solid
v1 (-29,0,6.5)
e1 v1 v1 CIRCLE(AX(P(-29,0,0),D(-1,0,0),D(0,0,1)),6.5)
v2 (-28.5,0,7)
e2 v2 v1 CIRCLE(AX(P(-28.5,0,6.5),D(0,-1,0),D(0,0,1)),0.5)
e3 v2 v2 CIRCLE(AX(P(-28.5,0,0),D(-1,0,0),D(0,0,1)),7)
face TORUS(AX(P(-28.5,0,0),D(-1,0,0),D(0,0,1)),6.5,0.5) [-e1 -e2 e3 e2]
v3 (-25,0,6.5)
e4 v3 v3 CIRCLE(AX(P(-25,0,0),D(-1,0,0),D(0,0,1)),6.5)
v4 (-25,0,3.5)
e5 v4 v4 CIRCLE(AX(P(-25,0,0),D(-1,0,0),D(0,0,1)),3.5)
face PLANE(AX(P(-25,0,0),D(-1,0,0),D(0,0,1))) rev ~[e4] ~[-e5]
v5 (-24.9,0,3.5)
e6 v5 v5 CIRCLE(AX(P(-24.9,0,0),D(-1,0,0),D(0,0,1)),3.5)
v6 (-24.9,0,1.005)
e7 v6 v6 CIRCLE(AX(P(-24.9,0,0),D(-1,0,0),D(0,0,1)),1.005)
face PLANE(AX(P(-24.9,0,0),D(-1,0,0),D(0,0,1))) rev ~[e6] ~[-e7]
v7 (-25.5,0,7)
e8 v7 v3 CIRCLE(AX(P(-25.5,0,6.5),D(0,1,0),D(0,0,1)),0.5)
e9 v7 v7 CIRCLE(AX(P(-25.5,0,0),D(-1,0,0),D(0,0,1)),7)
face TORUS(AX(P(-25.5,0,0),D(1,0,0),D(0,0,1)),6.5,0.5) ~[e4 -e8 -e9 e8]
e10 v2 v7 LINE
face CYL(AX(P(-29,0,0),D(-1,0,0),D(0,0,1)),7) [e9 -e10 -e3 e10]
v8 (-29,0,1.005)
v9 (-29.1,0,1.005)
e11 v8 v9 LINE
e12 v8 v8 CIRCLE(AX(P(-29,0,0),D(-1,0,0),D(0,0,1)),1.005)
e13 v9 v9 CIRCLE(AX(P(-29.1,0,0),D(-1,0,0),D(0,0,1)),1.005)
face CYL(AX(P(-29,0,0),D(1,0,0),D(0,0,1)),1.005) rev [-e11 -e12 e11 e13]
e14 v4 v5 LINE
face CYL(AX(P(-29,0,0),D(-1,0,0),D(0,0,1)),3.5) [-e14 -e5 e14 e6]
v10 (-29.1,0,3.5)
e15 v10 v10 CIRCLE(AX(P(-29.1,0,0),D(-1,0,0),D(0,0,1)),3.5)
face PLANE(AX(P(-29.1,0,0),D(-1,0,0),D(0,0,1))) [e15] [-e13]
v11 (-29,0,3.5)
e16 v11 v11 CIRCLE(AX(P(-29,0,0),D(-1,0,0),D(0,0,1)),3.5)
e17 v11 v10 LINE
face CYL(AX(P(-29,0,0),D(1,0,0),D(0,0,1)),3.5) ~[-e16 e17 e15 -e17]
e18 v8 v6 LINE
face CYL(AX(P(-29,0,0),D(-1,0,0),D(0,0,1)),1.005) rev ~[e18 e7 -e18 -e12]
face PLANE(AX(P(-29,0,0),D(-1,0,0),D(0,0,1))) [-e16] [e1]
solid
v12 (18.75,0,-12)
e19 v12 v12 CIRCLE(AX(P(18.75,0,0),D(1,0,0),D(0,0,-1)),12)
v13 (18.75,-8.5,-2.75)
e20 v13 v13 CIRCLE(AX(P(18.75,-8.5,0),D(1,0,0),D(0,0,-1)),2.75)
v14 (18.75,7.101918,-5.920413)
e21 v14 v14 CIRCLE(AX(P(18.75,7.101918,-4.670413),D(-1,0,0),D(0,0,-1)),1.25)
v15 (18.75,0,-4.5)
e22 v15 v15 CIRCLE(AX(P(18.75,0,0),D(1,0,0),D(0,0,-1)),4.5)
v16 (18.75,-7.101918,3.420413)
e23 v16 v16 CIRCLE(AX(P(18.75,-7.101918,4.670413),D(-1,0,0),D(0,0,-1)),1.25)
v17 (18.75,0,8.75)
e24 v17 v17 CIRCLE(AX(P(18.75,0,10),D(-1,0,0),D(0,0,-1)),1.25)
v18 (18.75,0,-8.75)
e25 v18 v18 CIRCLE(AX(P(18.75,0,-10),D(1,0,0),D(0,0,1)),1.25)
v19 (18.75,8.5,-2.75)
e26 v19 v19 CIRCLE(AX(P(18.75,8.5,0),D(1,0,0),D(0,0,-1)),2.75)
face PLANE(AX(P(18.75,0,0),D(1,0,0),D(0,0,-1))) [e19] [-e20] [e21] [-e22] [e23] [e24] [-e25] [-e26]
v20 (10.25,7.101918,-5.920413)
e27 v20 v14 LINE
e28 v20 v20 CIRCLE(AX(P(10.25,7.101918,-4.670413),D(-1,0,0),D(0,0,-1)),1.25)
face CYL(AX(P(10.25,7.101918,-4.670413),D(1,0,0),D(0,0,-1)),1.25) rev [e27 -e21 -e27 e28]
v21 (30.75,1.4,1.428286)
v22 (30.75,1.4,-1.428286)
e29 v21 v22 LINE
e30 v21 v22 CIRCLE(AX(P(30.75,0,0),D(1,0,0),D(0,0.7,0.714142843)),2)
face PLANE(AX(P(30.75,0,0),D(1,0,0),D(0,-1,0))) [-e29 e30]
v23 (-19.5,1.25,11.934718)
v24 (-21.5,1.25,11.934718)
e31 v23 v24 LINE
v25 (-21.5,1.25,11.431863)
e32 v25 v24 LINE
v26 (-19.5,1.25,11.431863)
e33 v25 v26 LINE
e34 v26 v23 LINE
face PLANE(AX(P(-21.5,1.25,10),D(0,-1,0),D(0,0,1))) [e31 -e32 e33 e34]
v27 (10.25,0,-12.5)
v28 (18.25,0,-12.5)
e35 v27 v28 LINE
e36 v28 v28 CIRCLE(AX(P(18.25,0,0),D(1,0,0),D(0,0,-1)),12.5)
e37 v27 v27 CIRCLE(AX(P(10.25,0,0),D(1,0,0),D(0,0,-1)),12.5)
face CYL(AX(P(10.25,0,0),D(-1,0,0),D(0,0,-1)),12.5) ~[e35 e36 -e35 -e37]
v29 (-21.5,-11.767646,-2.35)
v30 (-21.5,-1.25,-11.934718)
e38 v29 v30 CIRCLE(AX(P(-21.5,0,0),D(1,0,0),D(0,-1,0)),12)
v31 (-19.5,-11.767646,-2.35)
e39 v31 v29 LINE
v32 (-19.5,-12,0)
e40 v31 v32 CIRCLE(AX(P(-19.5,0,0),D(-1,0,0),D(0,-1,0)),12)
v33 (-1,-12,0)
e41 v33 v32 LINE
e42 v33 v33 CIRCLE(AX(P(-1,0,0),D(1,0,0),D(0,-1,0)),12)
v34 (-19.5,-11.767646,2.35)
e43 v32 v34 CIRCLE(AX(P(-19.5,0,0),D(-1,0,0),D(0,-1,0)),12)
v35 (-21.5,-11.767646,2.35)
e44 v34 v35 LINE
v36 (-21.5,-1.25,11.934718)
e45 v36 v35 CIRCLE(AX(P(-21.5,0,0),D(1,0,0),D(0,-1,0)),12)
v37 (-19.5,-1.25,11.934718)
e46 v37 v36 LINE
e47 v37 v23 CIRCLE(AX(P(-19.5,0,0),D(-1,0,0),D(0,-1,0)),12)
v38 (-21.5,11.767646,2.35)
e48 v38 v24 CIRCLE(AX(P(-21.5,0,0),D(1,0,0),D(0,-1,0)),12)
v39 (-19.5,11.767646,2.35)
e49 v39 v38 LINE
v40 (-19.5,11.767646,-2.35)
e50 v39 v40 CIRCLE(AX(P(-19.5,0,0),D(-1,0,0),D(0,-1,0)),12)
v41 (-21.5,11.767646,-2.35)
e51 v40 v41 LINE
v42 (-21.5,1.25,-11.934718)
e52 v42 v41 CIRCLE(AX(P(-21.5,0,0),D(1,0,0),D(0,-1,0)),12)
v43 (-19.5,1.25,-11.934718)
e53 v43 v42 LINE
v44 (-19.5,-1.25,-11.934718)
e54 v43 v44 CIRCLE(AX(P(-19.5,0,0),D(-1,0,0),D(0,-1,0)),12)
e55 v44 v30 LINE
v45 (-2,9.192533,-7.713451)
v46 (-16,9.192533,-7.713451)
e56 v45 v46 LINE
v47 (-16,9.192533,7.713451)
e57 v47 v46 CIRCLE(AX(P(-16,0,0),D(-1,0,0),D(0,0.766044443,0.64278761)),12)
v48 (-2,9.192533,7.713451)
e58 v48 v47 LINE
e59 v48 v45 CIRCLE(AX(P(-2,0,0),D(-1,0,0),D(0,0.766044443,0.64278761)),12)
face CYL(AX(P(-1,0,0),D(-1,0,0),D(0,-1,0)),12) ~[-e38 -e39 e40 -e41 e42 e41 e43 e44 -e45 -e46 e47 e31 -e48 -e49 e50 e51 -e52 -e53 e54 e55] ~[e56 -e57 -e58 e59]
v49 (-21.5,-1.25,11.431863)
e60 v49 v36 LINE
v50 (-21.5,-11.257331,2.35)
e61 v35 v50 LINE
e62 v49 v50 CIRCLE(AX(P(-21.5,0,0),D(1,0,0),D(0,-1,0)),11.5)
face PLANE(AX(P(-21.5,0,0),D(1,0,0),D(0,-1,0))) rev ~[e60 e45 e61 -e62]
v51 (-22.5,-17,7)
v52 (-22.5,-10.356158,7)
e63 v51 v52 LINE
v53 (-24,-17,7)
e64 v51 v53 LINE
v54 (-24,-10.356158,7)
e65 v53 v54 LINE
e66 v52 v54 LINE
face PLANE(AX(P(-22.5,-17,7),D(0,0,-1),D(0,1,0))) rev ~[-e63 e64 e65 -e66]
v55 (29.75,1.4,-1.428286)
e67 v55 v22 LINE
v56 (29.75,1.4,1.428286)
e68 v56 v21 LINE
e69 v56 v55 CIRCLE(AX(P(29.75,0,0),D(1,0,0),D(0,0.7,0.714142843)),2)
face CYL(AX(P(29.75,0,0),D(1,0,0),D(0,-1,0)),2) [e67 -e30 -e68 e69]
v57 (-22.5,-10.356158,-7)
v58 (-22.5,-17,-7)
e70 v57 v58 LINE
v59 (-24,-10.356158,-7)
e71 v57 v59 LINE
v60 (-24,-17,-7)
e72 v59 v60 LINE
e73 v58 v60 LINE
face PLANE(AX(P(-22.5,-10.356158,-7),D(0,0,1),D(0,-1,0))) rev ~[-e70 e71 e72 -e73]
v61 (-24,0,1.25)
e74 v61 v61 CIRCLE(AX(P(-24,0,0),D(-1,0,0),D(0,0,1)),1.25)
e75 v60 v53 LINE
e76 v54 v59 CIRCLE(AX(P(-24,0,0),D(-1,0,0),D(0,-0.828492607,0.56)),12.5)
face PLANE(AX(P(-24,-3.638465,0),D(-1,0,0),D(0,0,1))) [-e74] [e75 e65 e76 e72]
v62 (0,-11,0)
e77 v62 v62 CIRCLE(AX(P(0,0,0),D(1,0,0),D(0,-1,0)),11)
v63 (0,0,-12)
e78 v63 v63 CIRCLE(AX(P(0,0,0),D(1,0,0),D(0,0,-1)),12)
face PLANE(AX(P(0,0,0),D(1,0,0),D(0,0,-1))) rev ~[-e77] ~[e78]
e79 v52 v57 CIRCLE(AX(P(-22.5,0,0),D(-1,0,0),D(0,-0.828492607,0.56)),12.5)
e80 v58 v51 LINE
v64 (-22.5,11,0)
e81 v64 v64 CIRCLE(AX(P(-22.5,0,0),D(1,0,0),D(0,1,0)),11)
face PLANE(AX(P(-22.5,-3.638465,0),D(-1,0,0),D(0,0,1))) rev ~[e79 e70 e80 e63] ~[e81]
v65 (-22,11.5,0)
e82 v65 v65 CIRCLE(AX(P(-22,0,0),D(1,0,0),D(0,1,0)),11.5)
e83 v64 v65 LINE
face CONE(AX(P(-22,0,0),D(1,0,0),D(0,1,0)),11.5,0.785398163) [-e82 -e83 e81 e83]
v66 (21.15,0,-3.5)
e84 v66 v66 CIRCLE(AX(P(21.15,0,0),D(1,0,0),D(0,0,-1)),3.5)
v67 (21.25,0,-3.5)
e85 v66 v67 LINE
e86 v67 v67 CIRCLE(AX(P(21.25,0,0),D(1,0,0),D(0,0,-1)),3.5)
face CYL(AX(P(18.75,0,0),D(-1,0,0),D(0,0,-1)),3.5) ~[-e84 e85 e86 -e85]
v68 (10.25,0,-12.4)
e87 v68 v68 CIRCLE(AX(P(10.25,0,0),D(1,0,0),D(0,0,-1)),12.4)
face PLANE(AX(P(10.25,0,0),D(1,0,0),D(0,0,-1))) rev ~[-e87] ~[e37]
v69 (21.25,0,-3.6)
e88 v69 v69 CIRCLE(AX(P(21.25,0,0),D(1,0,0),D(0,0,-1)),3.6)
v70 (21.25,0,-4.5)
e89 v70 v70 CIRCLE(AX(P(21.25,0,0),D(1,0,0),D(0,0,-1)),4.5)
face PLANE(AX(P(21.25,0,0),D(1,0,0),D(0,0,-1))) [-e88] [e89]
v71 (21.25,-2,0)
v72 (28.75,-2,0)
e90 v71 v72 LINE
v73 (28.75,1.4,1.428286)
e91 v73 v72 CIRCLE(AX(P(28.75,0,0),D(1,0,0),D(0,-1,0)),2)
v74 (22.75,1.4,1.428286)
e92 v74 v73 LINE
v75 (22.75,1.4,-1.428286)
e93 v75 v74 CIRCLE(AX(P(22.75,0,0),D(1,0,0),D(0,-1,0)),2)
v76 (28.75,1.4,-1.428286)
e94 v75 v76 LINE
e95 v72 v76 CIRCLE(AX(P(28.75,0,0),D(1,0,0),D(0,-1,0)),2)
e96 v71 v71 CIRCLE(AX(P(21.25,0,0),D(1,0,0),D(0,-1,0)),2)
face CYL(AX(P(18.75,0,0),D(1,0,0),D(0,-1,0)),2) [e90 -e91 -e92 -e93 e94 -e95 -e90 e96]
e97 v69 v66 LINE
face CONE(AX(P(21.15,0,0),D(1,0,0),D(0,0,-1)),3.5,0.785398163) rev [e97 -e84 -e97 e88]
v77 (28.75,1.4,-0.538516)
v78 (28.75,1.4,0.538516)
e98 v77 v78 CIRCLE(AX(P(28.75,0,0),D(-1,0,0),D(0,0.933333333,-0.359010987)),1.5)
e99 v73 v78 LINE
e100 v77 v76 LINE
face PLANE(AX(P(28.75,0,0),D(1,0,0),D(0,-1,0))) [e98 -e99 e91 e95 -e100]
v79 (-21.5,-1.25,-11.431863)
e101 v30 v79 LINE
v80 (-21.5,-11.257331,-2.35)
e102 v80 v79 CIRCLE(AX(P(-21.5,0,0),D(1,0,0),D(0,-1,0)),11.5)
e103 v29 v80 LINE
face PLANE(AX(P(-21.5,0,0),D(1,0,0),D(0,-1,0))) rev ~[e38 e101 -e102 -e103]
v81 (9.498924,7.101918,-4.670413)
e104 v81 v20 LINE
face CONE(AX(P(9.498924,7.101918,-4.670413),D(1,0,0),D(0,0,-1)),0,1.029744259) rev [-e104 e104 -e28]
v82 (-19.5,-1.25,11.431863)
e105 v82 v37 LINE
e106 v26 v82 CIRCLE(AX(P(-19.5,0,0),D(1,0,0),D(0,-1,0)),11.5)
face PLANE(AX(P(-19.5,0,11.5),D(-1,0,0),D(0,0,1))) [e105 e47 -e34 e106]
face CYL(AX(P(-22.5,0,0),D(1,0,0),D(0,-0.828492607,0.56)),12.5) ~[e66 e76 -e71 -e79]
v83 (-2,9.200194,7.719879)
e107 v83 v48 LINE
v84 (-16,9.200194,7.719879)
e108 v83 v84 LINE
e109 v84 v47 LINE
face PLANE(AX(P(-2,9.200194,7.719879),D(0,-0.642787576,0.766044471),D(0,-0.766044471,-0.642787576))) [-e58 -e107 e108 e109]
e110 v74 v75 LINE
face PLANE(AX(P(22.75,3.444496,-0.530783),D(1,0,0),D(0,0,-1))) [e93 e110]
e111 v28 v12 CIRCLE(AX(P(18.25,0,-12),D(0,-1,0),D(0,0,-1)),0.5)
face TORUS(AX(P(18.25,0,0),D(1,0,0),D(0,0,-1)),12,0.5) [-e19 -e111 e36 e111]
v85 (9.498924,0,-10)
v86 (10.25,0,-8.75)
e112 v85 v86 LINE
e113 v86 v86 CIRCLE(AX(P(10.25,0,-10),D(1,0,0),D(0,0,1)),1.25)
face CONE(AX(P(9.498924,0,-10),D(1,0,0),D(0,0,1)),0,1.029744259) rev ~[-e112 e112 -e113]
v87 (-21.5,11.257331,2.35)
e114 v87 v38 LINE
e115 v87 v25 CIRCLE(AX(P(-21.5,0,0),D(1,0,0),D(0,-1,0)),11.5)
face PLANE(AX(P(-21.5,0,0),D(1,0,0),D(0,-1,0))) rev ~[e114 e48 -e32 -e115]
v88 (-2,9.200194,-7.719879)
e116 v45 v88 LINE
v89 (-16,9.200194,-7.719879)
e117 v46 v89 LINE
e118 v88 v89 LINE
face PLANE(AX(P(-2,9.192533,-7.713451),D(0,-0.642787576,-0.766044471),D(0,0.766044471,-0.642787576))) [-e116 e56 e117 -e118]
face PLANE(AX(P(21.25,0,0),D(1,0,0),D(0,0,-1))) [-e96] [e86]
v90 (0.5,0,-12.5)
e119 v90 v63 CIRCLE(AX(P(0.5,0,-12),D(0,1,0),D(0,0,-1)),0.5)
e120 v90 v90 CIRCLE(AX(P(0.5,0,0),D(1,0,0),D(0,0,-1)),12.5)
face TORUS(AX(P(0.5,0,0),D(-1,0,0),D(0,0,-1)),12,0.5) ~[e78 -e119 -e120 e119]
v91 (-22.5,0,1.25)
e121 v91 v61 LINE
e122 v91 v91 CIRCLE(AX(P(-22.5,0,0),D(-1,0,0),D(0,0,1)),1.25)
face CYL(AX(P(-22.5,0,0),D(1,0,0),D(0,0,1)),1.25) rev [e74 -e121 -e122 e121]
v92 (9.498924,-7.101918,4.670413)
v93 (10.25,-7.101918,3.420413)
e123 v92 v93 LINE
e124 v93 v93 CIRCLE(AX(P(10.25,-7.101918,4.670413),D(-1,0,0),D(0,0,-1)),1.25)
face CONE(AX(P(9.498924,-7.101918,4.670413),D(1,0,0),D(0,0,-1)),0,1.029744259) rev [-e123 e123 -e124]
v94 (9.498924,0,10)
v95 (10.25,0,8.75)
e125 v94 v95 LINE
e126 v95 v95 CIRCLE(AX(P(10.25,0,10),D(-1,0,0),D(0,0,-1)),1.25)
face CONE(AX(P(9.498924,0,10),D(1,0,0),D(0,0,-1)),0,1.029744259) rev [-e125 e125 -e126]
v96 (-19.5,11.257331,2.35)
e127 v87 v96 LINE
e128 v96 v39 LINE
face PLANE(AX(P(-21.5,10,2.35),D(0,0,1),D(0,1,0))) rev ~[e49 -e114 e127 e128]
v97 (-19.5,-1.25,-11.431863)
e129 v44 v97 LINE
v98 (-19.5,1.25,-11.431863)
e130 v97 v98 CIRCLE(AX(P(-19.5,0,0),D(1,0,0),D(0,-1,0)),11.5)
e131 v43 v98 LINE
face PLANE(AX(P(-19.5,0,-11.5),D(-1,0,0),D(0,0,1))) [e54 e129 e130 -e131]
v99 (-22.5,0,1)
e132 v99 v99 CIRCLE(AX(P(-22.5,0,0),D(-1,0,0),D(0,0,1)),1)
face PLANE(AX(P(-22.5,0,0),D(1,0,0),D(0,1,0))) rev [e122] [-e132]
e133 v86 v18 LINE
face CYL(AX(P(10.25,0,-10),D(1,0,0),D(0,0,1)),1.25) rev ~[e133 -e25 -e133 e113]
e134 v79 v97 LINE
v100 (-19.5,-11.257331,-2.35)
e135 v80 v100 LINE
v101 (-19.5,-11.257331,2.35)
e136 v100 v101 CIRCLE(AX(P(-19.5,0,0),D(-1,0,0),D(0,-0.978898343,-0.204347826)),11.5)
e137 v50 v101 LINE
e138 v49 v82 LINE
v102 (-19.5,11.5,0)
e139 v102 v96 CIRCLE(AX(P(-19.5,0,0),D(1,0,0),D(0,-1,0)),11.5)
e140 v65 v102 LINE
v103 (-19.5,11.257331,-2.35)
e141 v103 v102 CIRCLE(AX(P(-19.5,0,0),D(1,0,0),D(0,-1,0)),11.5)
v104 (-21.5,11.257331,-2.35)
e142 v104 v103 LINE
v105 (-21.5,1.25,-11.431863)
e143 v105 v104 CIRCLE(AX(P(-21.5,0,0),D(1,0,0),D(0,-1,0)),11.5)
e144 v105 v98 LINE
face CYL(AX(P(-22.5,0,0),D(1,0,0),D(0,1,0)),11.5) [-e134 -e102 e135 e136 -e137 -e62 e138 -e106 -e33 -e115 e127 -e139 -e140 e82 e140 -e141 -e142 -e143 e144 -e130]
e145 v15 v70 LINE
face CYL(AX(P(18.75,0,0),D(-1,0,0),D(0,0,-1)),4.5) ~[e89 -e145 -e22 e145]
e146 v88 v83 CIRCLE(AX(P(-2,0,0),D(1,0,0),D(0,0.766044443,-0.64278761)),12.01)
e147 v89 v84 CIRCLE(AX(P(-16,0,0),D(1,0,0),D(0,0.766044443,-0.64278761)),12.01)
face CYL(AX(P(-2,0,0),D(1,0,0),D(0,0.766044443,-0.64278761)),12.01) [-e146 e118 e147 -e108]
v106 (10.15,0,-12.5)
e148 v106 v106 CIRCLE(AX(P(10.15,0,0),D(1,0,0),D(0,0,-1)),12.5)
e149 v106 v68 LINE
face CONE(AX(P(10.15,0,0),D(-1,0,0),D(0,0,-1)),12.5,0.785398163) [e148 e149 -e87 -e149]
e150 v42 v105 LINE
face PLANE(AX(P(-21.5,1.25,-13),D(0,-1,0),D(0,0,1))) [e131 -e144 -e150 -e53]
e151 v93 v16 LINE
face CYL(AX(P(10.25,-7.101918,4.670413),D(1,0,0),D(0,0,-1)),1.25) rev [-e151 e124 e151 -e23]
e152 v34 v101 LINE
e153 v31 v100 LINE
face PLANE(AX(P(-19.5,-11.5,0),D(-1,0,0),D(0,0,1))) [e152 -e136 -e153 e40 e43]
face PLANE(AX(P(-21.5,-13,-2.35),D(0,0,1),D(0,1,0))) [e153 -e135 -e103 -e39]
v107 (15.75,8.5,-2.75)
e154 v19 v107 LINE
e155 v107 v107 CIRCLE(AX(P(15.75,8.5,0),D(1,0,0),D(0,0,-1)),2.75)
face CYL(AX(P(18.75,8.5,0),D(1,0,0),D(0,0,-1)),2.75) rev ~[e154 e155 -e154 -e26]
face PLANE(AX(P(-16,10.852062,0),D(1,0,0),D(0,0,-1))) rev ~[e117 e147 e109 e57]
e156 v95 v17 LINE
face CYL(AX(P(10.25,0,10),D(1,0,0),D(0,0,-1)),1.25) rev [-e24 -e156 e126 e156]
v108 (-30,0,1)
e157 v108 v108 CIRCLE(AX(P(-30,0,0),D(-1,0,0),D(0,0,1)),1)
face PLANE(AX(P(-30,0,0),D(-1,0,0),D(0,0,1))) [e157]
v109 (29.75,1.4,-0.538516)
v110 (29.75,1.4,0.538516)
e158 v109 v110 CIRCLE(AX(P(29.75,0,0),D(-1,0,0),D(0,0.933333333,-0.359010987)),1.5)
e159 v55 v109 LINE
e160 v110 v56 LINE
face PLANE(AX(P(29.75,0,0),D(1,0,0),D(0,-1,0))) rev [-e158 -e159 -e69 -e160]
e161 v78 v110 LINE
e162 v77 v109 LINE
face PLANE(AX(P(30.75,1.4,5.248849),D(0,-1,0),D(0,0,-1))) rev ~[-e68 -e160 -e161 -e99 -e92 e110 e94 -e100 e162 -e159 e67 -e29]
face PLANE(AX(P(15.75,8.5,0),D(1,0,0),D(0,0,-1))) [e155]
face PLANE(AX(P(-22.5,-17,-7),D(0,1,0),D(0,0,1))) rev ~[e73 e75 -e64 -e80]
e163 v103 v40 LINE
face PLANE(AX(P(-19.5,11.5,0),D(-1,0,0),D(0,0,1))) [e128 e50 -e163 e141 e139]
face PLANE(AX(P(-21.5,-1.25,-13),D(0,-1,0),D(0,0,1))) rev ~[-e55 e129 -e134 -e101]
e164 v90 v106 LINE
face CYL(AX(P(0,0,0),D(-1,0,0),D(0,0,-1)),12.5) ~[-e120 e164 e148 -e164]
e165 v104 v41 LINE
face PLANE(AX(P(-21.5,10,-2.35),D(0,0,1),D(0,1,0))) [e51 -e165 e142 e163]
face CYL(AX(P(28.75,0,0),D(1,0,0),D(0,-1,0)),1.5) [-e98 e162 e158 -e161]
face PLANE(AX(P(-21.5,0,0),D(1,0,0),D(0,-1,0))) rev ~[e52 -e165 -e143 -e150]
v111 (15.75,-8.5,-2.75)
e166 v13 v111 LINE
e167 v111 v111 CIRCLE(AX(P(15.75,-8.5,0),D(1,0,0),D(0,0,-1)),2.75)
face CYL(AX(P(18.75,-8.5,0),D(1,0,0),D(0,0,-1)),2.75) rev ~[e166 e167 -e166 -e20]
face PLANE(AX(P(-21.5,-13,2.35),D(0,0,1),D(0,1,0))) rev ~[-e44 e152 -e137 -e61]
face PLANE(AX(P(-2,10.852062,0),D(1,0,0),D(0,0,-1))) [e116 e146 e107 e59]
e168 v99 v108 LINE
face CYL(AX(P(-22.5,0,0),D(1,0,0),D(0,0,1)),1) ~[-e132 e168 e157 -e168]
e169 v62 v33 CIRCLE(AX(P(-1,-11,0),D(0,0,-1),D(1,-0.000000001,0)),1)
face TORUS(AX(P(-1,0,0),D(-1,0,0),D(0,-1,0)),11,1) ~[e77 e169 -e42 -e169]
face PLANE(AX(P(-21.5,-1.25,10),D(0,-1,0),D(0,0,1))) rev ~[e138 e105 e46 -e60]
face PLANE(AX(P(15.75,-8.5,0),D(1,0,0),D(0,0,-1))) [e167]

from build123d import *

# Parameters (mm, degrees)
ESQUISSE3_W                = 4.7
ESQUISSE3_H                = 3
ESQUISSE3_W_2              = 3
ESQUISSE3_H_2              = 2.5
ENL_V_MAT_EXTRU_1_DEPTH    = 2
CHANFREIN1_SIZE            = 0.5
ESQUISSE5_R                = 1.25
BOSS_EXTRU_1_DEPTH         = 1.5
ESQUISSE6_R                = 12.5
BOSS_EXTRU_2_DEPTH         = 10.25
CONG_2_R                   = 0.5
CHANFREIN2_SIZE            = 0.1
ESQUISSE7_R                = 12.5
BOSS_EXTRU_3_DEPTH         = 8.5
CONG_3_R                   = 0.5
ESQUISSE8_R                = 4.5
ESQUISSE8_R_2              = 3.5
BOSS_EXTRU_4_DEPTH         = 2.5
CHANFREIN3_SIZE            = 0.1
ESQUISSE10_R               = 3.5
ESQUISSE10_R_2             = 2
BOSS_EXTRU_6_DEPTH         = 2.5
ESQUISSE13_W               = 11.559263521
ESQUISSE13_H               = 4.088991178
ENL_V_MAT_EXTRU_2_DEPTH    = 8
ESQUISSE14_R               = 1
BOSS_EXTRU_8_DEPTH         = 7.5
ESQUISSE16_R               = 7
ESQUISSE16_R_2             = 3.5
BOSS_EXTRU_9_DEPTH         = 4
CONG_4_R                   = 0.5
ESQUISSE17_R               = 3.5
ESQUISSE17_R_2             = 1.005
BOSS_EXTRU_10_DEPTH        = 0.1
BOSS_EXTRU_10_DEPTH_BACK   = 4.1
ESQUISSE18_R               = 2.75
ENL_V_MAT_EXTRU_3_DEPTH    = 3
TROU_TARAUD_M32_AT_2_COUNT = 2
TROU_TARAUD_M32_AT_2_PITCH = 17
BOSS_EXTRU_11_DEPTH        = 14


with BuildPart() as part:
    # Esquisse1 → Révol.-Mince3 (revolve)
    with BuildSketch(Plane.XY):
        with BuildLine():
            Line((0, 0), (0, -11))
            ThreePointArc((0, -11), (-0.292893219, -11.707106781), (-1, -12))
            Line((-1, -12), (-21.5, -12))
            Line((-21.5, -12), (-21.5, -11.5))
            Line((-21.5, -11.5), (-1, -11.5))
            ThreePointArc((-1, -11.5), (-0.646446609, -11.353553391), (-0.5, -11))
            Line((-0.5, -11), (-0.5, 0))
            Line((-0.5, 0), (0, 0))
        make_face()
    revolve(axis=Axis((-41.566699443, 0, 0), (1, 0, 0)))

    # Esquisse3 → Enlèv. mat.-Extru.1 (cut)
    with BuildSketch(Plane.ZY.offset(21.5)):
        with Locations((0, -11.5)):
            Rectangle(ESQUISSE3_W, ESQUISSE3_H)
        with Locations((0, 11.5)):
            Rectangle(ESQUISSE3_W, ESQUISSE3_H)
        with Locations((11.5, 0)):
            Rectangle(ESQUISSE3_W_2, ESQUISSE3_H_2)
        with Locations((-11.5, 0)):
            Rectangle(ESQUISSE3_W_2, ESQUISSE3_H_2)
    extrude(amount=-ENL_V_MAT_EXTRU_1_DEPTH, mode=Mode.SUBTRACT)

    # Esquisse4 → Révolution2 (revolve)
    with BuildSketch(Plane.XY):
        with BuildLine():
            Line((-0.5, 11), (-0.5, 0))
            Line((-0.5, 0), (-22.5, 0))
            Line((-22.5, 0), (-22.5, 11.5))
            Line((-22.5, 11.5), (-1, 11.5))
            ThreePointArc((-1, 11.5), (-0.646446609, 11.353553391), (-0.5, 11))
        make_face()
    revolve(axis=Axis((-25.268401873, 0, 0), (1, 0, 0)))

    # Chanfrein1
    chanfrein1_edges = [part.edges().sort_by_distance(p)[0] for p in [
        (-22.5, -11.5, 0),
    ]]
    chamfer(chanfrein1_edges, length=CHANFREIN1_SIZE)

    # Esquisse5 → Boss.-Extru.1 (add)
    with BuildSketch(Plane.ZY.offset(22.5)):
        with BuildLine():
            Line((-7, -10.356157589), (-7, -17))
            Line((-7, -17), (7, -17))
            Line((7, -17), (7, -10.356157589))
            ThreePointArc((7, -10.356157589), (0, 12.5), (-7, -10.356157589))
        make_face()
        Circle(ESQUISSE5_R, mode=Mode.SUBTRACT)
    extrude(amount=BOSS_EXTRU_1_DEPTH)

    # Esquisse6 → Boss.-Extru.2 (add)
    with BuildSketch(Plane(origin=(0, 0, 0), x_dir=(0, 0, -1), z_dir=(1, 0, 0))):
        Circle(ESQUISSE6_R)
    extrude(amount=BOSS_EXTRU_2_DEPTH)

    # Congé2
    cong_2_edges = [part.edges().sort_by_distance(p)[0] for p in [
        (0, 0, 12.5),
    ]]
    fillet(cong_2_edges, radius=CONG_2_R)

    # Chanfrein2
    chanfrein2_edges = [part.edges().sort_by_distance(p)[0] for p in [
        (10.25, 0, 12.5),
    ]]
    chamfer(chanfrein2_edges, length=CHANFREIN2_SIZE)

    # Esquisse7 → Boss.-Extru.3 (add)
    with BuildSketch(Plane(origin=(10.25, 0, 0), x_dir=(0, 0, -1), z_dir=(1, 0, 0))):
        Circle(ESQUISSE7_R)
    extrude(amount=BOSS_EXTRU_3_DEPTH)

    # Congé3
    cong_3_edges = [part.edges().sort_by_distance(p)[0] for p in [
        (18.75, 0, 12.5),
    ]]
    fillet(cong_3_edges, radius=CONG_3_R)

    # Esquisse8 → Boss.-Extru.4 (add)
    with BuildSketch(Plane(origin=(18.75, 0, 0), x_dir=(0, 0, -1), z_dir=(1, 0, 0))):
        Circle(ESQUISSE8_R)
        Circle(ESQUISSE8_R_2, mode=Mode.SUBTRACT)
    extrude(amount=BOSS_EXTRU_4_DEPTH)

    # Chanfrein3
    chanfrein3_edges = [part.edges().sort_by_distance(p)[0] for p in [
        (21.25, 0, 3.5),
    ]]
    chamfer(chanfrein3_edges, length=CHANFREIN3_SIZE)

    # Esquisse10 → Boss.-Extru.6 (add)
    with BuildSketch(Plane(origin=(18.75, 0, 0), x_dir=(0, 0, -1), z_dir=(1, 0, 0))):
        Circle(ESQUISSE10_R)
        Circle(ESQUISSE10_R_2, mode=Mode.SUBTRACT)
    extrude(amount=BOSS_EXTRU_6_DEPTH)

    # Esquisse12 → Révolution3 (revolve)
    with BuildSketch(Plane.XY):
        Polygon((18.75, -2), (28.75, -2), (28.75, -1.5), (29.75, -1.5), (29.75, -2), (30.75, -2), (30.75, 0), (18.75, 0), align=None)
    revolve(axis=Axis((-4.872202699, 0, 0), (1, 0, 0)))

    # Esquisse13 → Enlèv. mat.-Extru.2 (cut)
    with BuildSketch(Plane(origin=(30.75, 0, 0), x_dir=(0, 0, -1), z_dir=(1, 0, 0))):
        with Locations((0.530782509, 3.444495589)):
            Rectangle(ESQUISSE13_W, ESQUISSE13_H)
    extrude(amount=-ENL_V_MAT_EXTRU_2_DEPTH, mode=Mode.SUBTRACT)

    # Esquisse14 → Boss.-Extru.8 (add)
    with BuildSketch(Plane.ZY.offset(22.5)):
        Circle(ESQUISSE14_R)
    extrude(amount=BOSS_EXTRU_8_DEPTH)

    # Esquisse18 → Enlèv. mat.-Extru.3 (cut)
    with BuildSketch(Plane(origin=(18.75, 0, 0), x_dir=(0, 0, -1), z_dir=(1, 0, 0))):
        with Locations((0, 8.5)):
            Circle(ESQUISSE18_R)
        with Locations((0, -8.5)):
            Circle(ESQUISSE18_R)
    extrude(amount=-ENL_V_MAT_EXTRU_3_DEPTH, mode=Mode.SUBTRACT)

    # Esquisse19 → Trou taraudé M31 (revolve, cut)
    with BuildSketch(Plane(origin=(18.75, 0, 10), x_dir=(0, 0, -1), z_dir=(0, 1, 0))):
        Polygon((0, 0), (0, 9.251075774), (1.25, 8.5), (1.25, 0), align=None)
    trou_taraud_m31 = revolve(axis=Axis((25.1, 0, 10), (-1, 0, 0)), mode=Mode.SUBTRACT)

    # Symétrie1: Trou taraudé M31 across plane
    add(trou_taraud_m31.mirror(Plane.XY), mode=Mode.SUBTRACT)

    # Esquisse24 → Trou taraudé M32 (revolve, cut)
    with BuildSketch(Plane(origin=(18.75, 7.101918123, -4.670413149), x_dir=(0, 0, -1), z_dir=(0, 1, 0))):
        Polygon((0, 0), (0, 9.251075774), (1.25, 8.5), (1.25, 0), align=None)
    trou_taraud_m32 = revolve(axis=Axis((25.1, 7.101918123, -4.670413149), (-1, 0, 0)), mode=Mode.SUBTRACT)

    # Trou taraudé M32 at 2: Trou taraudé M32 ×2
    with Locations(*[Vector(0, -0.835519779, 0.54946037) * (i * TROU_TARAUD_M32_AT_2_PITCH) for i in range(1, TROU_TARAUD_M32_AT_2_COUNT)]):
        add(trou_taraud_m32, mode=Mode.SUBTRACT)

    # Esquisse25 → Boss.-Extru.11 (add)
    with BuildSketch(Plane(origin=(-2, 0, 0), x_dir=(0, 0, -1), z_dir=(1, 0, 0))):
        with BuildLine():
            Line((7.713451316, 9.192533317), (7.719879192, 9.200193762))
            ThreePointArc((7.719879192, 9.200193762), (0, 12.01), (-7.719879192, 9.200193762))
            Line((-7.719879192, 9.200193762), (-7.713451316, 9.192533317))
            ThreePointArc((-7.713451316, 9.192533317), (0, 12), (7.713451316, 9.192533317))
        make_face()
    extrude(amount=-BOSS_EXTRU_11_DEPTH)


with BuildPart() as body_2:
    # Esquisse16 → Boss.-Extru.9 (new body)
    with BuildSketch(Plane.ZY.offset(29)):
        Circle(ESQUISSE16_R)
        Circle(ESQUISSE16_R_2, mode=Mode.SUBTRACT)
    extrude(amount=-BOSS_EXTRU_9_DEPTH)

    # Congé4
    cong_4_edges = [body_2.edges().sort_by_distance(p)[0] for p in [
        (-29, 0, -7),
        (-25, 0, -7),
    ]]
    fillet(cong_4_edges, radius=CONG_4_R)

    # Esquisse17 → Boss.-Extru.10 (add, two sides)
    with BuildSketch(Plane.ZY.offset(29)) as boss_extru_10_sk:
        Circle(ESQUISSE17_R)
        Circle(ESQUISSE17_R_2, mode=Mode.SUBTRACT)
    extrude(amount=BOSS_EXTRU_10_DEPTH)
    extrude(boss_extru_10_sk.sketch, amount=-BOSS_EXTRU_10_DEPTH_BACK)


solid = Compound([part.part, body_2.part])
